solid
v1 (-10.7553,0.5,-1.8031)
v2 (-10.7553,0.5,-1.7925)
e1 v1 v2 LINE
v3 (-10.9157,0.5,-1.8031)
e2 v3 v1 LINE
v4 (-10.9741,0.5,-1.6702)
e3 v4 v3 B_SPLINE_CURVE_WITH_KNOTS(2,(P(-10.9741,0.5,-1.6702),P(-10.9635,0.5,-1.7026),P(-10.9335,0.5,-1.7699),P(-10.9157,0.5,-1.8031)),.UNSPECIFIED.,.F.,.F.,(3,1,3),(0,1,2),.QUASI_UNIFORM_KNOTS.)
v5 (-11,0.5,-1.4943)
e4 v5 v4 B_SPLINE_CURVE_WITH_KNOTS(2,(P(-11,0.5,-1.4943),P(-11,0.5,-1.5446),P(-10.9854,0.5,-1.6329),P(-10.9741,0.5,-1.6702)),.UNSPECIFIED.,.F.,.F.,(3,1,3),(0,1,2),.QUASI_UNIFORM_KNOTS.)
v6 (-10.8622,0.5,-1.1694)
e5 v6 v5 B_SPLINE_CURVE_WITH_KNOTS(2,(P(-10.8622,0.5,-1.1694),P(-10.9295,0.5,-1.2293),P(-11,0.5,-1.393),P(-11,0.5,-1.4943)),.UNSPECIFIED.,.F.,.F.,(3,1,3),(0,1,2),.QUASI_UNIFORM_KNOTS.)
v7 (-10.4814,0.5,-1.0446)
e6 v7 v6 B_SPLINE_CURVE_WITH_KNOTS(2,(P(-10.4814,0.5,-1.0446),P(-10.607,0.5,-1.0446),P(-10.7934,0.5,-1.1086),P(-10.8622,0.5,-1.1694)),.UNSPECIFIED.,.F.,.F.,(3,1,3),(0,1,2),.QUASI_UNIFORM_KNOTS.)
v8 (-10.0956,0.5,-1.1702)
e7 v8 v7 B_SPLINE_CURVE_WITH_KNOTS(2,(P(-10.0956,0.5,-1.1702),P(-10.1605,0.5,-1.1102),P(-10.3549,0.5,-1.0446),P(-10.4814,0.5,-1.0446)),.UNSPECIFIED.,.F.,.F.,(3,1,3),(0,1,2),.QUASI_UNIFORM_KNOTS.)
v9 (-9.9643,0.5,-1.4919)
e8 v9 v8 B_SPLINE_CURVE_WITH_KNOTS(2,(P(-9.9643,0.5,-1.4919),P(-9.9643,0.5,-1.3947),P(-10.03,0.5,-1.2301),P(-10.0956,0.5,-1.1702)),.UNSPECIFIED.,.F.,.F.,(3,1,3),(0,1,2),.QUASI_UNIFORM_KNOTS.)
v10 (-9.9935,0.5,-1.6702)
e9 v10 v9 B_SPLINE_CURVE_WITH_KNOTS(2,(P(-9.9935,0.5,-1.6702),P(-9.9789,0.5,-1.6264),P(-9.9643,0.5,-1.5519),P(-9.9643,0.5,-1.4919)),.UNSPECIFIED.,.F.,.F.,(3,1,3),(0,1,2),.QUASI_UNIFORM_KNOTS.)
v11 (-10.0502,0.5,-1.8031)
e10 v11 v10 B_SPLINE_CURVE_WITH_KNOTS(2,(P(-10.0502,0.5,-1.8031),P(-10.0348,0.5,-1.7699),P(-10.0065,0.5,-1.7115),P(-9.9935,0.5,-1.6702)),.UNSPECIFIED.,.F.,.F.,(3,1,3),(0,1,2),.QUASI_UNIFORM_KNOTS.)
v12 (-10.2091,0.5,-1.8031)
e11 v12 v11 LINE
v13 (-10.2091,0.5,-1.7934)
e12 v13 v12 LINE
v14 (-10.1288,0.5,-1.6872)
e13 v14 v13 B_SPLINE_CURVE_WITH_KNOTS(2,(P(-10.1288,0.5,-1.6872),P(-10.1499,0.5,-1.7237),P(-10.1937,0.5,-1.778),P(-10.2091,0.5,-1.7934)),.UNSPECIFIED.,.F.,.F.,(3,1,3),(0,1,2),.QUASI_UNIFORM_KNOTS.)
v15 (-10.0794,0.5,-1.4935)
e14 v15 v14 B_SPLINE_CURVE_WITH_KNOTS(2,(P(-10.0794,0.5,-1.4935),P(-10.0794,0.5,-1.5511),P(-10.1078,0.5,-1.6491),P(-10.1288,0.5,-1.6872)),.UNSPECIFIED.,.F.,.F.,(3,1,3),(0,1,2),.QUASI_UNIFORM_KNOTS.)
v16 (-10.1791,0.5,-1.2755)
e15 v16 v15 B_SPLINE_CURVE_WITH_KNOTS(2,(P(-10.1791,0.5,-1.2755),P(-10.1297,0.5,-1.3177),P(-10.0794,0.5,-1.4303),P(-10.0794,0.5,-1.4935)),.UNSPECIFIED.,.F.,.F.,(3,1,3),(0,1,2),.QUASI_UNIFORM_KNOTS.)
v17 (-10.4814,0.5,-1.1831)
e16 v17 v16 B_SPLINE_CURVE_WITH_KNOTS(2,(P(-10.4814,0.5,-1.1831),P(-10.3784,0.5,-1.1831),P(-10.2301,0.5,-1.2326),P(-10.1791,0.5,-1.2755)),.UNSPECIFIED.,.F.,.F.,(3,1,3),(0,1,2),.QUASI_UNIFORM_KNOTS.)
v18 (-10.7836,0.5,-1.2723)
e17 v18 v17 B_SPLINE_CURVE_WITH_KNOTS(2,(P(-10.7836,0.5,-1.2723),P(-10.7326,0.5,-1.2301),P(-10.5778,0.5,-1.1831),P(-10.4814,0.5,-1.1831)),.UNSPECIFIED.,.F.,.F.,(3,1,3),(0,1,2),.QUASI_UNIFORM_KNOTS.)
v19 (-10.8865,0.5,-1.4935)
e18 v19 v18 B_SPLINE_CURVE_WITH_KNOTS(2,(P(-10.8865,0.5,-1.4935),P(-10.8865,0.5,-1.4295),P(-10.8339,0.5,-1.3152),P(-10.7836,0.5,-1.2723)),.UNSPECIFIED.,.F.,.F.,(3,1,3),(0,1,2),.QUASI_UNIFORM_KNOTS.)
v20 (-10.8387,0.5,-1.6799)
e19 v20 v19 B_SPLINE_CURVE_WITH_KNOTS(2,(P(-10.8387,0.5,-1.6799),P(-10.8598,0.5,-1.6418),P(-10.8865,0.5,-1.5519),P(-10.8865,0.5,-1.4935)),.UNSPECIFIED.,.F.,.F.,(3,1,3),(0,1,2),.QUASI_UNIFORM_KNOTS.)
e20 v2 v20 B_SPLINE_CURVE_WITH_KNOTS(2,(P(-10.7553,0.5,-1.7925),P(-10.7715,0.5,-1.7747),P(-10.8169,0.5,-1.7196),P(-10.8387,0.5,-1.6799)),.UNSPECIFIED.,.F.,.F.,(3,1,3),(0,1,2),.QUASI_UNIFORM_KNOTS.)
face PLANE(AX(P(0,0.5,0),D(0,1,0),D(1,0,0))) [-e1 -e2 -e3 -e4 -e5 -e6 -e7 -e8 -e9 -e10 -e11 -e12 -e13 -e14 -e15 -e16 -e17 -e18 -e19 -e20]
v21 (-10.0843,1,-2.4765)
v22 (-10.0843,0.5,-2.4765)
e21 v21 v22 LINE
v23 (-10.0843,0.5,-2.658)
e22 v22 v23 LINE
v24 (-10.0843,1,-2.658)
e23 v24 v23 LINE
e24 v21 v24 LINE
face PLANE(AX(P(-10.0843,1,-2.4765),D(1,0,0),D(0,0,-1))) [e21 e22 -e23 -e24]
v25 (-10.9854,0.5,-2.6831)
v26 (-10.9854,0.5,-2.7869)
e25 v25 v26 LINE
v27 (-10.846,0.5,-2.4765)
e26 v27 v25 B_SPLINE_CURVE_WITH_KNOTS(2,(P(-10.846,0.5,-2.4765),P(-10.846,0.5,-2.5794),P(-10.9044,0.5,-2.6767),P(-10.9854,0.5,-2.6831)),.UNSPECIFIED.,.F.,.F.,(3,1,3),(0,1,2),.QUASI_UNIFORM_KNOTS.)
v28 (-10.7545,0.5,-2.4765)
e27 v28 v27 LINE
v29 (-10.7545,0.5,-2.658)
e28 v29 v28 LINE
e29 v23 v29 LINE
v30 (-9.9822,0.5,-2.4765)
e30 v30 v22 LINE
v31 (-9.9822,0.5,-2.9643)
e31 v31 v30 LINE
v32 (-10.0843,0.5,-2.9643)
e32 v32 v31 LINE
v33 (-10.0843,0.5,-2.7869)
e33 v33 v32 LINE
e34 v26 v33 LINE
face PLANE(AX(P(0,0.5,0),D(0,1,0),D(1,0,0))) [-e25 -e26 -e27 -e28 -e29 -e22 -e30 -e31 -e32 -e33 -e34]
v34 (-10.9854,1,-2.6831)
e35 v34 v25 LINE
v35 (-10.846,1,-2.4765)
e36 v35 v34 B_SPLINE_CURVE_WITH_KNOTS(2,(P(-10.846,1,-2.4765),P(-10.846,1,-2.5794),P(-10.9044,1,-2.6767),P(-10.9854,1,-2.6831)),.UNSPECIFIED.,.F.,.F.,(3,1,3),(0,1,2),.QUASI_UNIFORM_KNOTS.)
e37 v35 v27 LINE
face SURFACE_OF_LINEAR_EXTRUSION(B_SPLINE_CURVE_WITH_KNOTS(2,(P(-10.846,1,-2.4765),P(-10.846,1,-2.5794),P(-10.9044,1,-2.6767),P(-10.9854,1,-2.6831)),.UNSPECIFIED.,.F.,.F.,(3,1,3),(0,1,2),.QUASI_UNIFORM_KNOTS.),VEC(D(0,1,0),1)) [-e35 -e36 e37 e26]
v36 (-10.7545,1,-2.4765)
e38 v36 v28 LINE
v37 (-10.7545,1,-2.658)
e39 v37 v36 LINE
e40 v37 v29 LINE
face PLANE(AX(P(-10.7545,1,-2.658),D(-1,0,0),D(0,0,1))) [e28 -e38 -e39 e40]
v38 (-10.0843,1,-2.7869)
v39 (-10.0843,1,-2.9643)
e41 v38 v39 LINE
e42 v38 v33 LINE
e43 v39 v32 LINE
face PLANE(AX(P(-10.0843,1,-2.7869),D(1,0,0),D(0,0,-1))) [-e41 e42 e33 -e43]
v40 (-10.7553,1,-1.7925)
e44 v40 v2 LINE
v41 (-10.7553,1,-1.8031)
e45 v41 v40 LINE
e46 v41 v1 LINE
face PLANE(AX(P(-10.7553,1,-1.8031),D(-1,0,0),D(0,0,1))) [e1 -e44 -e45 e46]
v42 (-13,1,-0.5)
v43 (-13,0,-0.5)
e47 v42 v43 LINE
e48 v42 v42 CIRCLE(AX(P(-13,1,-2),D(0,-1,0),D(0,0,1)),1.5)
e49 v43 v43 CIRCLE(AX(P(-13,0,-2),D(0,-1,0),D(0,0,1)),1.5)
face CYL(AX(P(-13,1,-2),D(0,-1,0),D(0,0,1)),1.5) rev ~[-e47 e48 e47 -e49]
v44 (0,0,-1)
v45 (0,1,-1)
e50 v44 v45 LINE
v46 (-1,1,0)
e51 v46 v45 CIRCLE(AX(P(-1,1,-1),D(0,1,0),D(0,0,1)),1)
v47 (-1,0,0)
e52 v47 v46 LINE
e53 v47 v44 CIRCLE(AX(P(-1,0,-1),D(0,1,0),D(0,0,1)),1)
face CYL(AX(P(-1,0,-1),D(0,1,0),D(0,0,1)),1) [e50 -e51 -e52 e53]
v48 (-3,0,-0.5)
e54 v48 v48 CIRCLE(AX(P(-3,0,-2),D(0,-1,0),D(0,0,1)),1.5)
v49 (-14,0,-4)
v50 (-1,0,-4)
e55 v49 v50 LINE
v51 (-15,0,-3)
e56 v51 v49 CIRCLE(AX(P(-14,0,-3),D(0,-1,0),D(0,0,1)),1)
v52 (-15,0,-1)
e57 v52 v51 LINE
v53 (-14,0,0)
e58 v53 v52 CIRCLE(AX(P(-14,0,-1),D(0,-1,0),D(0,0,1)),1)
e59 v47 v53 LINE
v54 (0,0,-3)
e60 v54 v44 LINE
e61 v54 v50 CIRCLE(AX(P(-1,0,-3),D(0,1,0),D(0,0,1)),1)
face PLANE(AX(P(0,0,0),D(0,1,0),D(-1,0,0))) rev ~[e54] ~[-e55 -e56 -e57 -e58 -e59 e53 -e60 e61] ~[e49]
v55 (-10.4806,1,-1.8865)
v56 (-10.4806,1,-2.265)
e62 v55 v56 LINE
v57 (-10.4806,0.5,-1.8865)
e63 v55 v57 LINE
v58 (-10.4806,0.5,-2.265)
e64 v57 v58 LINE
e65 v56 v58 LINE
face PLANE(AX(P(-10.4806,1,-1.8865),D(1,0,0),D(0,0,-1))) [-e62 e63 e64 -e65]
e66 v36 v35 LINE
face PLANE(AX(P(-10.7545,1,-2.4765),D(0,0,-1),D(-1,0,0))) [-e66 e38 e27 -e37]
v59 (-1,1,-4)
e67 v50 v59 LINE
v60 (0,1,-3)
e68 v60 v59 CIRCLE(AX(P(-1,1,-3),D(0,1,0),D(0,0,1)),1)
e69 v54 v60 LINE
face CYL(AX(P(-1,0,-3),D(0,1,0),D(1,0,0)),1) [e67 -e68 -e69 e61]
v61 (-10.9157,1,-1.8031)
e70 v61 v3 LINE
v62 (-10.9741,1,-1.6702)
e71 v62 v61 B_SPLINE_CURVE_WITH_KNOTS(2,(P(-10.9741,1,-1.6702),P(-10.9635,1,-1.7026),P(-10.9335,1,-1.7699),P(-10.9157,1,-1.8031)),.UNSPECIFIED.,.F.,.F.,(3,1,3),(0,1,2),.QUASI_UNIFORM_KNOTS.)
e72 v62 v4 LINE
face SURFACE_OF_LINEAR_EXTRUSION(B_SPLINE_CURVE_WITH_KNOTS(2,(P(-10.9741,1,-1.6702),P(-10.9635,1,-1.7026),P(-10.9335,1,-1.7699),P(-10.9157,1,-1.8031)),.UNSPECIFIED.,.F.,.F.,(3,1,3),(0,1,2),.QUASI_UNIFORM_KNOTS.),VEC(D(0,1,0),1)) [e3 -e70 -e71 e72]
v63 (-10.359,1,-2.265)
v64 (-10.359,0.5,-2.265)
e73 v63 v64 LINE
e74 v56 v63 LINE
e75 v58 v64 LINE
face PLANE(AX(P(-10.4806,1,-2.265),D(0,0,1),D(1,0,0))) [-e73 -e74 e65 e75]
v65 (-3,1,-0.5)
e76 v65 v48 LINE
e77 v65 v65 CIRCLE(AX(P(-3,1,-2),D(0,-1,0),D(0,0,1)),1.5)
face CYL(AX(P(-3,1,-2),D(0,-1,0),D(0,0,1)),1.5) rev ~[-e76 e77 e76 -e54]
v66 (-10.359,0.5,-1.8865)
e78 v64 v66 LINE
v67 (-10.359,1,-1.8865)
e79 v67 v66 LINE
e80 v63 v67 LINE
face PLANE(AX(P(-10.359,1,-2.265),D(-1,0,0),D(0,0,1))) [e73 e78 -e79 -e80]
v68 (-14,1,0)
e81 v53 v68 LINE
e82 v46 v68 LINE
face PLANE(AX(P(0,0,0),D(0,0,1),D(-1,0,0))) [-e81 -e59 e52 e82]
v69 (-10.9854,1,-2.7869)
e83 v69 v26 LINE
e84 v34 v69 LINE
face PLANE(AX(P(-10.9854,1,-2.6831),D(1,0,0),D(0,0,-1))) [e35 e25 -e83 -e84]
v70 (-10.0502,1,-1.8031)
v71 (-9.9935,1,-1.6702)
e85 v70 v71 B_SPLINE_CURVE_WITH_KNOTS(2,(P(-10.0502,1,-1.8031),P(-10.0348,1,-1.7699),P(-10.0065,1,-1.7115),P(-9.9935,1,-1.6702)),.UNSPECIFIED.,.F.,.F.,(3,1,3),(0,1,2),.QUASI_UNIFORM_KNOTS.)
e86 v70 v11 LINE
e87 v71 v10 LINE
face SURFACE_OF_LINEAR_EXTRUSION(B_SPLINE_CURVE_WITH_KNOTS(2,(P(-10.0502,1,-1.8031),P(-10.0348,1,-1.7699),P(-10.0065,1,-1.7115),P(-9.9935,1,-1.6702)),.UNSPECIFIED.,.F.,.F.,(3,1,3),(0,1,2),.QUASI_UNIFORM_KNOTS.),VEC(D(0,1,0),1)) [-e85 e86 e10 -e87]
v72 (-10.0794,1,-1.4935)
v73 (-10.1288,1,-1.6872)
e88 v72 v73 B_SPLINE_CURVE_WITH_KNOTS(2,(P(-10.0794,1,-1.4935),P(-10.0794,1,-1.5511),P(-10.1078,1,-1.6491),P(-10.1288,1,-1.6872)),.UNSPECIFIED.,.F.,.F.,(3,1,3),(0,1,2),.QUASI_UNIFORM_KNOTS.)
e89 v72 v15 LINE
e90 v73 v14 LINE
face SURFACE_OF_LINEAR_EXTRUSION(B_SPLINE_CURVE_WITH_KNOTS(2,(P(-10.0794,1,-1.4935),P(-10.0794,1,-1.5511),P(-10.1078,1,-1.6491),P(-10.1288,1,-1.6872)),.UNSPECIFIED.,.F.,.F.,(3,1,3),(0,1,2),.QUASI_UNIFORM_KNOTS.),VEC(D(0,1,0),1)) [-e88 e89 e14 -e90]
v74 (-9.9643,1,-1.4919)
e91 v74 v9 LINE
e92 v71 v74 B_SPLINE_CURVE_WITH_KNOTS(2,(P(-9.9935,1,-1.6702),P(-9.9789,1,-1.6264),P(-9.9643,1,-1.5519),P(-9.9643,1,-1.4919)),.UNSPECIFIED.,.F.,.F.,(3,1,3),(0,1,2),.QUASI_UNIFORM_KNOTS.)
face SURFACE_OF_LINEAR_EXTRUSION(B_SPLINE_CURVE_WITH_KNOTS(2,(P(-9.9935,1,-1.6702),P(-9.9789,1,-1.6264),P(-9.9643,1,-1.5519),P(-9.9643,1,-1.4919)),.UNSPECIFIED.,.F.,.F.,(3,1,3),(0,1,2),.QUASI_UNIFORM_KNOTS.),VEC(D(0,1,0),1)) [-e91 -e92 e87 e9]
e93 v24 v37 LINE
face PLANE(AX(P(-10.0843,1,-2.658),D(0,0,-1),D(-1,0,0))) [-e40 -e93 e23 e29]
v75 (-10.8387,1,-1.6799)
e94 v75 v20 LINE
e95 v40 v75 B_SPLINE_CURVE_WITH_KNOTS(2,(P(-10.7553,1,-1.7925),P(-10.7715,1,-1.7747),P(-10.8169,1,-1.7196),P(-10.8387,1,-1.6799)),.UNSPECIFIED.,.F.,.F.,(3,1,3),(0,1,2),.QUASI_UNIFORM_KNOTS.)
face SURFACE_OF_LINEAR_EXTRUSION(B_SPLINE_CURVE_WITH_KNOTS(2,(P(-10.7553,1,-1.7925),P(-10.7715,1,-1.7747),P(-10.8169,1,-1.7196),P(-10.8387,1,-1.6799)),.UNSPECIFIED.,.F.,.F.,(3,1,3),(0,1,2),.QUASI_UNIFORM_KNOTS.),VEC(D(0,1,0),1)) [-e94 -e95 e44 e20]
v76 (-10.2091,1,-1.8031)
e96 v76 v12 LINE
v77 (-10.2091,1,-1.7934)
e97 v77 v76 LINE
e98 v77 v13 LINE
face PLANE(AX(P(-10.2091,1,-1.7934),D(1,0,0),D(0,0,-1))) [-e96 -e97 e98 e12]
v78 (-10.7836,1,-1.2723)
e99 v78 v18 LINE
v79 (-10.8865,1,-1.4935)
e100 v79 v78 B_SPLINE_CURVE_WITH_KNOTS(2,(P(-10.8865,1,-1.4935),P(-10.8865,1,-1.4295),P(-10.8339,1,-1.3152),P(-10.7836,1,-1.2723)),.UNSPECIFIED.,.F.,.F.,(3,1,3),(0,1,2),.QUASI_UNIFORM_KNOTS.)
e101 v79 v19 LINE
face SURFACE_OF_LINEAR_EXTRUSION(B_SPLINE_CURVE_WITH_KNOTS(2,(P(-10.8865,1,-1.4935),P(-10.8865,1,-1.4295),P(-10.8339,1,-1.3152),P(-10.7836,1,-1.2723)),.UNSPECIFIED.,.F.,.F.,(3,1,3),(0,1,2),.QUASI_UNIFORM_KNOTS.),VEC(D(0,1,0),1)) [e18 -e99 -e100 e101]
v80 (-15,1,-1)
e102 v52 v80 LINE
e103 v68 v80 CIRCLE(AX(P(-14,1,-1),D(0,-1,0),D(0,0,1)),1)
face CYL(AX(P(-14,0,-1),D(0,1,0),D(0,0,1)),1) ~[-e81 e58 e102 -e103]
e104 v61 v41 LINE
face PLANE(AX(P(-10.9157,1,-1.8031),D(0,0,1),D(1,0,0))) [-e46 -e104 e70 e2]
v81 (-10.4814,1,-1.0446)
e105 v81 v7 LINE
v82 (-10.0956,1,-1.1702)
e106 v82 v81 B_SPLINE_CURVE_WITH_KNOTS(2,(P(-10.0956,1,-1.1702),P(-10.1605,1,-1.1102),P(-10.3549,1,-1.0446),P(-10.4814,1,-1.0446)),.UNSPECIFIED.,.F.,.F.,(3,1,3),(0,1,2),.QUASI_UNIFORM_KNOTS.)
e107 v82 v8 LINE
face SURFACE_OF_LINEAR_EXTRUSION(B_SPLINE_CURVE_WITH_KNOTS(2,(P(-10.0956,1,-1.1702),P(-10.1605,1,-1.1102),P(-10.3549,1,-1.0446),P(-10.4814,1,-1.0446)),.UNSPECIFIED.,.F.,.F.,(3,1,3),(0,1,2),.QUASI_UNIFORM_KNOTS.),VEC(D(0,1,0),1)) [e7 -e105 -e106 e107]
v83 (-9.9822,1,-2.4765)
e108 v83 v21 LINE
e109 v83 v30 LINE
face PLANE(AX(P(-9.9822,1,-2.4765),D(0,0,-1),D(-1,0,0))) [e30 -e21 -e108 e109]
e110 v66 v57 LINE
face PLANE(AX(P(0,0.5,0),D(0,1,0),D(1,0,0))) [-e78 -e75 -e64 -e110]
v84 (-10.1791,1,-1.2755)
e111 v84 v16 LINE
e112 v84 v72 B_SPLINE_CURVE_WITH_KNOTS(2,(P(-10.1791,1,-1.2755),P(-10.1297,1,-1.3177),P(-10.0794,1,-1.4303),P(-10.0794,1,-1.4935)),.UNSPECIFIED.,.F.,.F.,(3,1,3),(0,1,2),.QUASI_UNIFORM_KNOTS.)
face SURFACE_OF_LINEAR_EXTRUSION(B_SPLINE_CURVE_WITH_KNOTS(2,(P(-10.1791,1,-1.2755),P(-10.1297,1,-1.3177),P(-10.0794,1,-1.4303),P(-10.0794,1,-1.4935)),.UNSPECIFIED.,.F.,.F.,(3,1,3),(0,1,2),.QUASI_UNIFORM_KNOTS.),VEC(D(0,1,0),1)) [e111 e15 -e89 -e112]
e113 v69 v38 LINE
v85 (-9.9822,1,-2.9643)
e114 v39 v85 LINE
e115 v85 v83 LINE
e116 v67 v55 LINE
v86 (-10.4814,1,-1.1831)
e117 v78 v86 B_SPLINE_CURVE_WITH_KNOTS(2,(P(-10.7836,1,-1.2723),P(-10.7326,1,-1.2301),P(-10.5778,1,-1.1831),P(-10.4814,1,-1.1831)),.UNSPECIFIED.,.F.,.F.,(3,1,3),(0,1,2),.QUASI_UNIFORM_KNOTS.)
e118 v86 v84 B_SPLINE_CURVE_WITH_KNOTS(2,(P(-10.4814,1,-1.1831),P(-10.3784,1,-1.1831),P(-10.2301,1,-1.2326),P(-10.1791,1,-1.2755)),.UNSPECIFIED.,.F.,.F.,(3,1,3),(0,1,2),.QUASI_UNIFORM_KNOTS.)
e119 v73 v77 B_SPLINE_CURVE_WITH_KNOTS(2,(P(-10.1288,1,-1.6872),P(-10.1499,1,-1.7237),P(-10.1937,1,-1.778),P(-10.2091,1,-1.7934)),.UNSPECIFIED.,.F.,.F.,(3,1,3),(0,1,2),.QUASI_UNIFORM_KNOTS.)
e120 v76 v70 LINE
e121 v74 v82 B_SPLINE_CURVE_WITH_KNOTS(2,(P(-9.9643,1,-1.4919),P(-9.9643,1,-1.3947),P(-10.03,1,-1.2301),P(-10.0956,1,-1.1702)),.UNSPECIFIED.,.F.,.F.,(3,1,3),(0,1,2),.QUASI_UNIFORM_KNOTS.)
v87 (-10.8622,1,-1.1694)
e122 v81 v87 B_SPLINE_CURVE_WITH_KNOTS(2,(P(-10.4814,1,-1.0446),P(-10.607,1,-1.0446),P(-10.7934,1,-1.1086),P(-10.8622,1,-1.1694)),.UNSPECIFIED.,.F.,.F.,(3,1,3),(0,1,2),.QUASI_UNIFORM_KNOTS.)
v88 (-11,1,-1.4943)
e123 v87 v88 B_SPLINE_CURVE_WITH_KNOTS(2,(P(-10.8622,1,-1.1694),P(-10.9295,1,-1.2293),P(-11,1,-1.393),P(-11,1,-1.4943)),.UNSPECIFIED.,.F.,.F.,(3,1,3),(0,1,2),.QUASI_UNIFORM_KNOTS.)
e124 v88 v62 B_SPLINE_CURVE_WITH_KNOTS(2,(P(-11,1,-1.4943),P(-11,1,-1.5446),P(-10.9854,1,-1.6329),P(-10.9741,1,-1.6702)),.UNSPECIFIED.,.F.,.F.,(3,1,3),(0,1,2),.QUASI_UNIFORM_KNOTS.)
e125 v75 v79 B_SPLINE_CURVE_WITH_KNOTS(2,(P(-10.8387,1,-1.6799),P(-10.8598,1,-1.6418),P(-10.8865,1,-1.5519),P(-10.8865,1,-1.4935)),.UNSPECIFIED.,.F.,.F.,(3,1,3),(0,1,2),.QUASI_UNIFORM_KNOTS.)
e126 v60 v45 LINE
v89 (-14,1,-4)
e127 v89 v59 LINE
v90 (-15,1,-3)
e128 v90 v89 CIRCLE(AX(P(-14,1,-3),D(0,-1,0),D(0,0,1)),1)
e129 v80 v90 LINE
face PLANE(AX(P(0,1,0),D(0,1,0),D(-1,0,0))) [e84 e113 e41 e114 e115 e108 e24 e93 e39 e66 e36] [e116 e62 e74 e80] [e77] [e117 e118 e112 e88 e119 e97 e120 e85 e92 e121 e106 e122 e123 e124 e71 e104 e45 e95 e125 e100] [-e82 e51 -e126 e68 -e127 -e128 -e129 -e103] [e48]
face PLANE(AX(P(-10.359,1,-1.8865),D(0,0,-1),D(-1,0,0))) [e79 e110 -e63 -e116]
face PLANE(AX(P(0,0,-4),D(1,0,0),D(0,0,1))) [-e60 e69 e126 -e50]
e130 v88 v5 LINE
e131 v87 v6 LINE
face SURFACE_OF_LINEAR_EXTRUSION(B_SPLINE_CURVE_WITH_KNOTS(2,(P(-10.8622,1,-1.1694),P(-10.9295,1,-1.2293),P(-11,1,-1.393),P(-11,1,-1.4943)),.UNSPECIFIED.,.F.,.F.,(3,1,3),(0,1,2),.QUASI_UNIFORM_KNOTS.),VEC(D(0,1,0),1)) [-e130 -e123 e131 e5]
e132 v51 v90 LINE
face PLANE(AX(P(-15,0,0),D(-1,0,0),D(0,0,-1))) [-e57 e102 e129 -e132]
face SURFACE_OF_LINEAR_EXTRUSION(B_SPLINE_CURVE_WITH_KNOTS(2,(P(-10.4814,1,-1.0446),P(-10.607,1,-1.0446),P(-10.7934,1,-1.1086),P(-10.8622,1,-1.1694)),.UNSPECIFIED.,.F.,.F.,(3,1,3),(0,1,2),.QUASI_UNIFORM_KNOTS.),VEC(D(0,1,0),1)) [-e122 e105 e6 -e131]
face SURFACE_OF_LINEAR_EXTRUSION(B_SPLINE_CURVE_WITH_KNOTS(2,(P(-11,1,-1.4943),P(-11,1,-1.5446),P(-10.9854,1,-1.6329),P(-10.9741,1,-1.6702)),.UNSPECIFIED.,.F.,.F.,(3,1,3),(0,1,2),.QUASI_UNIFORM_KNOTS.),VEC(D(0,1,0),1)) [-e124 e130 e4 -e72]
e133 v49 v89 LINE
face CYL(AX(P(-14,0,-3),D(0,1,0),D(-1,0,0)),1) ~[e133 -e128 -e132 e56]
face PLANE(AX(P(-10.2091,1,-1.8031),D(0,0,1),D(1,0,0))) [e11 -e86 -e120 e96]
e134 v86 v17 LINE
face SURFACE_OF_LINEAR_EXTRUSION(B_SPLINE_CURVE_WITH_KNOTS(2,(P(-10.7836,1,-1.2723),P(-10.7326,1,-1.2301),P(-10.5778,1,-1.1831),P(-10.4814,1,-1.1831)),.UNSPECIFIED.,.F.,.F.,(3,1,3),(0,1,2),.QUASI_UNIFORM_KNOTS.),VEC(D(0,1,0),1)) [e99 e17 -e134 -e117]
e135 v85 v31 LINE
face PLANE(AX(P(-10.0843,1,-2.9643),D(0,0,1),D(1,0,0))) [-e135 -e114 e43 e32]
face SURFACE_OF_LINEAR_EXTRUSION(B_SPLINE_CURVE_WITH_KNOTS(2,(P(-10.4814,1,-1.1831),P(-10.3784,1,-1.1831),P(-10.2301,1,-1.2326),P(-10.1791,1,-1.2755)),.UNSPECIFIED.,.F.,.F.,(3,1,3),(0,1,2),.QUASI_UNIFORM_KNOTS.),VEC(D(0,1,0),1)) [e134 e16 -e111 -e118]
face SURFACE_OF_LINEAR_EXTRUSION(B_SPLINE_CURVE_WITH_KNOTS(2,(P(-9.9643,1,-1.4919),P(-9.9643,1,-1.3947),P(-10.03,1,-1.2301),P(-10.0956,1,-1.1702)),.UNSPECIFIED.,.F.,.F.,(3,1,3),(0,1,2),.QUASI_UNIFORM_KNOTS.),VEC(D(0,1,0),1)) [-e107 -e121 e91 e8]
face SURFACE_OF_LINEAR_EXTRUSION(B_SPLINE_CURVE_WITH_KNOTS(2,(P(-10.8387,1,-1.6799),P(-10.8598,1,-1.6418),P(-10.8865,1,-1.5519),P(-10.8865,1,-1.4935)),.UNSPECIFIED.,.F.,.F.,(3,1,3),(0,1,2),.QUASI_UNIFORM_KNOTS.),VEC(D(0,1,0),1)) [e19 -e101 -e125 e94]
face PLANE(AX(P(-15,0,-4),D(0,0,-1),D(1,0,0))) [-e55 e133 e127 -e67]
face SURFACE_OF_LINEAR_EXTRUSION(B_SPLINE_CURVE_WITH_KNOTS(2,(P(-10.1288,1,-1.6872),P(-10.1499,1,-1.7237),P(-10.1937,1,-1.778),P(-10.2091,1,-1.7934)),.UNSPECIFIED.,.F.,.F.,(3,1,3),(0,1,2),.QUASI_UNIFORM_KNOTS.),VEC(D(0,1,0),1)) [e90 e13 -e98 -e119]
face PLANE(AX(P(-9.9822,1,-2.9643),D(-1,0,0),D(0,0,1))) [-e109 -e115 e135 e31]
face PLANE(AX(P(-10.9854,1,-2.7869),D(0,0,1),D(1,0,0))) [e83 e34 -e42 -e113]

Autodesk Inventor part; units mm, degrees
ref_plane "YZ Plane" through (0, 0, 0) normal (1, 0, 0) x (0, 1, 0)
ref_plane "XZ Plane" through (0, 0, 0) normal (0, 1, 0) x (-1, 0, 0)
ref_plane "XY Plane" through (0, 0, 0) normal (0, 0, 1) x (1, 0, 0)
sketch "Sketch1" plane through (0, 0, 0) normal (0, 1, 0) x (-1, 0, 0)
  line L0 (0, 0) -> (15, 0)
  line L1 (15, 0) -> (15, -4)
  line L2 (15, -4) -> (0, -4)
  line L3 (0, -4) -> (0, 0)
  dimension "d0" = 15
  dimension "d1" = 4
extrude "Extrusion1" add sketch "Sketch1" along normal blind 1
sketch "Sketch2" plane through (0, 1, 0) normal (0, 1, 0) x (1, 0, 0)
  line L0 (0, 4) -> (-15, 4) projected
  line L1 (-15, 4) -> (-15, 0) projected
  point P0 (0, 0)
  point P1 (-13, 2)
  dimension "d18" = 2
  dimension "d19" = 2
hole "Hole1" at (-13, 1, -2) direction (0, -1, 0) diameter 3 depth 5 tip angle 118
sketch "Sketch3" plane through (0, 1, 0) normal (0, 1, 0) x (1, 0, 0)
  line L0 (0, 0) -> (0, 4) projected
  line L1 (0, 4) -> (-15, 4) projected
  point P0 (-3, 2)
  dimension "d20" = 3
  dimension "d21" = 2
hole "Hole2" at (-3, 1, -2) direction (0, -1, 0) diameter 3 depth 5 tip angle 118
sketch "Sketch4" plane through (0, 1, 0) normal (0, 1, 0) x (1, 0, 0)
  point P0 (0, 0)
fillet "Fillet1" radius 1 4 edges at (0, 0.5, 0) (0, 0.5, -4) (-15, 0.5, 0) (-15, 0.5, -4)
sketch "Sketch5" plane through (0, 1, 0) normal (0, 1, 0) x (1, 0, 0)
  line L0 (-11, 1) -> (-11, 3) construction
  line L1 (-11, 3) -> (-5, 3) construction
  line L2 (-5, 3) -> (-5, 1) construction
  line L3 (-5, 1) -> (-11, 1) construction
  line L4 (-1, 4) -> (-14, 4) projected
  line L5 (-14, 0) -> (-1, 0) projected
  line L6 (0, 1) -> (0, 3) projected
  line L7 (-15, 3) -> (-15, 1) projected
  spline S0 degree 2 poles (-9.9643, 1.4919) (-9.9643, 1.3947) (-10.03, 1.2301) (-10.0956, 1.1702) knots 0 0 0 1 2 2 2
  spline S1 degree 2 poles (-10.0956, 1.1702) (-10.1605, 1.1102) (-10.3549, 1.0446) (-10.4814, 1.0446) knots 0 0 0 1 2 2 2
  spline S2 degree 2 poles (-10.4814, 1.0446) (-10.607, 1.0446) (-10.7934, 1.1086) (-10.8622, 1.1694) knots 0 0 0 1 2 2 2
  spline S3 degree 2 poles (-10.8622, 1.1694) (-10.9295, 1.2293) (-11, 1.393) (-11, 1.4943) knots 0 0 0 1 2 2 2
  spline S4 degree 2 poles (-11, 1.4943) (-11, 1.5446) (-10.9854, 1.6329) (-10.9741, 1.6702) knots 0 0 0 1 2 2 2
  spline S5 degree 2 poles (-10.9741, 1.6702) (-10.9635, 1.7026) (-10.9335, 1.7699) (-10.9157, 1.8031) knots 0 0 0 1 2 2 2
  line L8 (-10.9157, 1.8031) -> (-10.7553, 1.8031)
  line L9 (-10.7553, 1.8031) -> (-10.7553, 1.7925)
  spline S6 degree 2 poles (-10.7553, 1.7925) (-10.7715, 1.7747) (-10.8169, 1.7196) (-10.8387, 1.6799) knots 0 0 0 1 2 2 2
  spline S7 degree 2 poles (-10.8387, 1.6799) (-10.8598, 1.6418) (-10.8865, 1.5519) (-10.8865, 1.4935) knots 0 0 0 1 2 2 2
  spline S8 degree 2 poles (-10.8865, 1.4935) (-10.8865, 1.4295) (-10.8339, 1.3152) (-10.7836, 1.2723) knots 0 0 0 1 2 2 2
  spline S9 degree 2 poles (-10.7836, 1.2723) (-10.7326, 1.2301) (-10.5778, 1.1831) (-10.4814, 1.1831) knots 0 0 0 1 2 2 2
  spline S10 degree 2 poles (-10.4814, 1.1831) (-10.3784, 1.1831) (-10.2301, 1.2326) (-10.1791, 1.2755) knots 0 0 0 1 2 2 2
  spline S11 degree 2 poles (-10.1791, 1.2755) (-10.1297, 1.3177) (-10.0794, 1.4303) (-10.0794, 1.4935) knots 0 0 0 1 2 2 2
  spline S12 degree 2 poles (-10.0794, 1.4935) (-10.0794, 1.5511) (-10.1078, 1.6491) (-10.1288, 1.6872) knots 0 0 0 1 2 2 2
  spline S13 degree 2 poles (-10.1288, 1.6872) (-10.1499, 1.7237) (-10.1937, 1.778) (-10.2091, 1.7934) knots 0 0 0 1 2 2 2
  line L10 (-10.2091, 1.7934) -> (-10.2091, 1.8031)
  line L11 (-10.2091, 1.8031) -> (-10.0502, 1.8031)
  spline S14 degree 2 poles (-10.0502, 1.8031) (-10.0348, 1.7699) (-10.0065, 1.7115) (-9.9935, 1.6702) knots 0 0 0 1 2 2 2
  spline S15 degree 2 poles (-9.9935, 1.6702) (-9.9789, 1.6264) (-9.9643, 1.5519) (-9.9643, 1.4919) knots 0 0 0 1 2 2 2
  line L12 (-10.359, 2.265) -> (-10.359, 1.8865)
  line L13 (-10.359, 1.8865) -> (-10.4806, 1.8865)
  line L14 (-10.4806, 1.8865) -> (-10.4806, 2.265)
  line L15 (-10.4806, 2.265) -> (-10.359, 2.265)
  line L16 (-9.9822, 2.9643) -> (-9.9822, 2.4765)
  line L17 (-9.9822, 2.4765) -> (-10.0843, 2.4765)
  line L18 (-10.0843, 2.4765) -> (-10.0843, 2.658)
  line L19 (-10.0843, 2.658) -> (-10.7545, 2.658)
  line L20 (-10.7545, 2.658) -> (-10.7545, 2.4765)
  line L21 (-10.7545, 2.4765) -> (-10.846, 2.4765)
  spline S16 degree 2 poles (-10.846, 2.4765) (-10.846, 2.5794) (-10.9044, 2.6767) (-10.9854, 2.6831) knots 0 0 0 1 2 2 2
  line L22 (-10.9854, 2.6831) -> (-10.9854, 2.7869)
  line L23 (-10.9854, 2.7869) -> (-10.0843, 2.7869)
  line L24 (-10.0843, 2.7869) -> (-10.0843, 2.9643)
  line L25 (-10.0843, 2.9643) -> (-9.9822, 2.9643)
  point P0 (0, 0)
  point P1 (-8, 1)
  dimension "d23" = 1
  dimension "d24" = 1
  dimension "d25" = 5
  dimension "d26" = 4
extrude "Extrusion2" cut sketch "Sketch5" against normal blind 0.5
properties part number "Parts_Combiner"
